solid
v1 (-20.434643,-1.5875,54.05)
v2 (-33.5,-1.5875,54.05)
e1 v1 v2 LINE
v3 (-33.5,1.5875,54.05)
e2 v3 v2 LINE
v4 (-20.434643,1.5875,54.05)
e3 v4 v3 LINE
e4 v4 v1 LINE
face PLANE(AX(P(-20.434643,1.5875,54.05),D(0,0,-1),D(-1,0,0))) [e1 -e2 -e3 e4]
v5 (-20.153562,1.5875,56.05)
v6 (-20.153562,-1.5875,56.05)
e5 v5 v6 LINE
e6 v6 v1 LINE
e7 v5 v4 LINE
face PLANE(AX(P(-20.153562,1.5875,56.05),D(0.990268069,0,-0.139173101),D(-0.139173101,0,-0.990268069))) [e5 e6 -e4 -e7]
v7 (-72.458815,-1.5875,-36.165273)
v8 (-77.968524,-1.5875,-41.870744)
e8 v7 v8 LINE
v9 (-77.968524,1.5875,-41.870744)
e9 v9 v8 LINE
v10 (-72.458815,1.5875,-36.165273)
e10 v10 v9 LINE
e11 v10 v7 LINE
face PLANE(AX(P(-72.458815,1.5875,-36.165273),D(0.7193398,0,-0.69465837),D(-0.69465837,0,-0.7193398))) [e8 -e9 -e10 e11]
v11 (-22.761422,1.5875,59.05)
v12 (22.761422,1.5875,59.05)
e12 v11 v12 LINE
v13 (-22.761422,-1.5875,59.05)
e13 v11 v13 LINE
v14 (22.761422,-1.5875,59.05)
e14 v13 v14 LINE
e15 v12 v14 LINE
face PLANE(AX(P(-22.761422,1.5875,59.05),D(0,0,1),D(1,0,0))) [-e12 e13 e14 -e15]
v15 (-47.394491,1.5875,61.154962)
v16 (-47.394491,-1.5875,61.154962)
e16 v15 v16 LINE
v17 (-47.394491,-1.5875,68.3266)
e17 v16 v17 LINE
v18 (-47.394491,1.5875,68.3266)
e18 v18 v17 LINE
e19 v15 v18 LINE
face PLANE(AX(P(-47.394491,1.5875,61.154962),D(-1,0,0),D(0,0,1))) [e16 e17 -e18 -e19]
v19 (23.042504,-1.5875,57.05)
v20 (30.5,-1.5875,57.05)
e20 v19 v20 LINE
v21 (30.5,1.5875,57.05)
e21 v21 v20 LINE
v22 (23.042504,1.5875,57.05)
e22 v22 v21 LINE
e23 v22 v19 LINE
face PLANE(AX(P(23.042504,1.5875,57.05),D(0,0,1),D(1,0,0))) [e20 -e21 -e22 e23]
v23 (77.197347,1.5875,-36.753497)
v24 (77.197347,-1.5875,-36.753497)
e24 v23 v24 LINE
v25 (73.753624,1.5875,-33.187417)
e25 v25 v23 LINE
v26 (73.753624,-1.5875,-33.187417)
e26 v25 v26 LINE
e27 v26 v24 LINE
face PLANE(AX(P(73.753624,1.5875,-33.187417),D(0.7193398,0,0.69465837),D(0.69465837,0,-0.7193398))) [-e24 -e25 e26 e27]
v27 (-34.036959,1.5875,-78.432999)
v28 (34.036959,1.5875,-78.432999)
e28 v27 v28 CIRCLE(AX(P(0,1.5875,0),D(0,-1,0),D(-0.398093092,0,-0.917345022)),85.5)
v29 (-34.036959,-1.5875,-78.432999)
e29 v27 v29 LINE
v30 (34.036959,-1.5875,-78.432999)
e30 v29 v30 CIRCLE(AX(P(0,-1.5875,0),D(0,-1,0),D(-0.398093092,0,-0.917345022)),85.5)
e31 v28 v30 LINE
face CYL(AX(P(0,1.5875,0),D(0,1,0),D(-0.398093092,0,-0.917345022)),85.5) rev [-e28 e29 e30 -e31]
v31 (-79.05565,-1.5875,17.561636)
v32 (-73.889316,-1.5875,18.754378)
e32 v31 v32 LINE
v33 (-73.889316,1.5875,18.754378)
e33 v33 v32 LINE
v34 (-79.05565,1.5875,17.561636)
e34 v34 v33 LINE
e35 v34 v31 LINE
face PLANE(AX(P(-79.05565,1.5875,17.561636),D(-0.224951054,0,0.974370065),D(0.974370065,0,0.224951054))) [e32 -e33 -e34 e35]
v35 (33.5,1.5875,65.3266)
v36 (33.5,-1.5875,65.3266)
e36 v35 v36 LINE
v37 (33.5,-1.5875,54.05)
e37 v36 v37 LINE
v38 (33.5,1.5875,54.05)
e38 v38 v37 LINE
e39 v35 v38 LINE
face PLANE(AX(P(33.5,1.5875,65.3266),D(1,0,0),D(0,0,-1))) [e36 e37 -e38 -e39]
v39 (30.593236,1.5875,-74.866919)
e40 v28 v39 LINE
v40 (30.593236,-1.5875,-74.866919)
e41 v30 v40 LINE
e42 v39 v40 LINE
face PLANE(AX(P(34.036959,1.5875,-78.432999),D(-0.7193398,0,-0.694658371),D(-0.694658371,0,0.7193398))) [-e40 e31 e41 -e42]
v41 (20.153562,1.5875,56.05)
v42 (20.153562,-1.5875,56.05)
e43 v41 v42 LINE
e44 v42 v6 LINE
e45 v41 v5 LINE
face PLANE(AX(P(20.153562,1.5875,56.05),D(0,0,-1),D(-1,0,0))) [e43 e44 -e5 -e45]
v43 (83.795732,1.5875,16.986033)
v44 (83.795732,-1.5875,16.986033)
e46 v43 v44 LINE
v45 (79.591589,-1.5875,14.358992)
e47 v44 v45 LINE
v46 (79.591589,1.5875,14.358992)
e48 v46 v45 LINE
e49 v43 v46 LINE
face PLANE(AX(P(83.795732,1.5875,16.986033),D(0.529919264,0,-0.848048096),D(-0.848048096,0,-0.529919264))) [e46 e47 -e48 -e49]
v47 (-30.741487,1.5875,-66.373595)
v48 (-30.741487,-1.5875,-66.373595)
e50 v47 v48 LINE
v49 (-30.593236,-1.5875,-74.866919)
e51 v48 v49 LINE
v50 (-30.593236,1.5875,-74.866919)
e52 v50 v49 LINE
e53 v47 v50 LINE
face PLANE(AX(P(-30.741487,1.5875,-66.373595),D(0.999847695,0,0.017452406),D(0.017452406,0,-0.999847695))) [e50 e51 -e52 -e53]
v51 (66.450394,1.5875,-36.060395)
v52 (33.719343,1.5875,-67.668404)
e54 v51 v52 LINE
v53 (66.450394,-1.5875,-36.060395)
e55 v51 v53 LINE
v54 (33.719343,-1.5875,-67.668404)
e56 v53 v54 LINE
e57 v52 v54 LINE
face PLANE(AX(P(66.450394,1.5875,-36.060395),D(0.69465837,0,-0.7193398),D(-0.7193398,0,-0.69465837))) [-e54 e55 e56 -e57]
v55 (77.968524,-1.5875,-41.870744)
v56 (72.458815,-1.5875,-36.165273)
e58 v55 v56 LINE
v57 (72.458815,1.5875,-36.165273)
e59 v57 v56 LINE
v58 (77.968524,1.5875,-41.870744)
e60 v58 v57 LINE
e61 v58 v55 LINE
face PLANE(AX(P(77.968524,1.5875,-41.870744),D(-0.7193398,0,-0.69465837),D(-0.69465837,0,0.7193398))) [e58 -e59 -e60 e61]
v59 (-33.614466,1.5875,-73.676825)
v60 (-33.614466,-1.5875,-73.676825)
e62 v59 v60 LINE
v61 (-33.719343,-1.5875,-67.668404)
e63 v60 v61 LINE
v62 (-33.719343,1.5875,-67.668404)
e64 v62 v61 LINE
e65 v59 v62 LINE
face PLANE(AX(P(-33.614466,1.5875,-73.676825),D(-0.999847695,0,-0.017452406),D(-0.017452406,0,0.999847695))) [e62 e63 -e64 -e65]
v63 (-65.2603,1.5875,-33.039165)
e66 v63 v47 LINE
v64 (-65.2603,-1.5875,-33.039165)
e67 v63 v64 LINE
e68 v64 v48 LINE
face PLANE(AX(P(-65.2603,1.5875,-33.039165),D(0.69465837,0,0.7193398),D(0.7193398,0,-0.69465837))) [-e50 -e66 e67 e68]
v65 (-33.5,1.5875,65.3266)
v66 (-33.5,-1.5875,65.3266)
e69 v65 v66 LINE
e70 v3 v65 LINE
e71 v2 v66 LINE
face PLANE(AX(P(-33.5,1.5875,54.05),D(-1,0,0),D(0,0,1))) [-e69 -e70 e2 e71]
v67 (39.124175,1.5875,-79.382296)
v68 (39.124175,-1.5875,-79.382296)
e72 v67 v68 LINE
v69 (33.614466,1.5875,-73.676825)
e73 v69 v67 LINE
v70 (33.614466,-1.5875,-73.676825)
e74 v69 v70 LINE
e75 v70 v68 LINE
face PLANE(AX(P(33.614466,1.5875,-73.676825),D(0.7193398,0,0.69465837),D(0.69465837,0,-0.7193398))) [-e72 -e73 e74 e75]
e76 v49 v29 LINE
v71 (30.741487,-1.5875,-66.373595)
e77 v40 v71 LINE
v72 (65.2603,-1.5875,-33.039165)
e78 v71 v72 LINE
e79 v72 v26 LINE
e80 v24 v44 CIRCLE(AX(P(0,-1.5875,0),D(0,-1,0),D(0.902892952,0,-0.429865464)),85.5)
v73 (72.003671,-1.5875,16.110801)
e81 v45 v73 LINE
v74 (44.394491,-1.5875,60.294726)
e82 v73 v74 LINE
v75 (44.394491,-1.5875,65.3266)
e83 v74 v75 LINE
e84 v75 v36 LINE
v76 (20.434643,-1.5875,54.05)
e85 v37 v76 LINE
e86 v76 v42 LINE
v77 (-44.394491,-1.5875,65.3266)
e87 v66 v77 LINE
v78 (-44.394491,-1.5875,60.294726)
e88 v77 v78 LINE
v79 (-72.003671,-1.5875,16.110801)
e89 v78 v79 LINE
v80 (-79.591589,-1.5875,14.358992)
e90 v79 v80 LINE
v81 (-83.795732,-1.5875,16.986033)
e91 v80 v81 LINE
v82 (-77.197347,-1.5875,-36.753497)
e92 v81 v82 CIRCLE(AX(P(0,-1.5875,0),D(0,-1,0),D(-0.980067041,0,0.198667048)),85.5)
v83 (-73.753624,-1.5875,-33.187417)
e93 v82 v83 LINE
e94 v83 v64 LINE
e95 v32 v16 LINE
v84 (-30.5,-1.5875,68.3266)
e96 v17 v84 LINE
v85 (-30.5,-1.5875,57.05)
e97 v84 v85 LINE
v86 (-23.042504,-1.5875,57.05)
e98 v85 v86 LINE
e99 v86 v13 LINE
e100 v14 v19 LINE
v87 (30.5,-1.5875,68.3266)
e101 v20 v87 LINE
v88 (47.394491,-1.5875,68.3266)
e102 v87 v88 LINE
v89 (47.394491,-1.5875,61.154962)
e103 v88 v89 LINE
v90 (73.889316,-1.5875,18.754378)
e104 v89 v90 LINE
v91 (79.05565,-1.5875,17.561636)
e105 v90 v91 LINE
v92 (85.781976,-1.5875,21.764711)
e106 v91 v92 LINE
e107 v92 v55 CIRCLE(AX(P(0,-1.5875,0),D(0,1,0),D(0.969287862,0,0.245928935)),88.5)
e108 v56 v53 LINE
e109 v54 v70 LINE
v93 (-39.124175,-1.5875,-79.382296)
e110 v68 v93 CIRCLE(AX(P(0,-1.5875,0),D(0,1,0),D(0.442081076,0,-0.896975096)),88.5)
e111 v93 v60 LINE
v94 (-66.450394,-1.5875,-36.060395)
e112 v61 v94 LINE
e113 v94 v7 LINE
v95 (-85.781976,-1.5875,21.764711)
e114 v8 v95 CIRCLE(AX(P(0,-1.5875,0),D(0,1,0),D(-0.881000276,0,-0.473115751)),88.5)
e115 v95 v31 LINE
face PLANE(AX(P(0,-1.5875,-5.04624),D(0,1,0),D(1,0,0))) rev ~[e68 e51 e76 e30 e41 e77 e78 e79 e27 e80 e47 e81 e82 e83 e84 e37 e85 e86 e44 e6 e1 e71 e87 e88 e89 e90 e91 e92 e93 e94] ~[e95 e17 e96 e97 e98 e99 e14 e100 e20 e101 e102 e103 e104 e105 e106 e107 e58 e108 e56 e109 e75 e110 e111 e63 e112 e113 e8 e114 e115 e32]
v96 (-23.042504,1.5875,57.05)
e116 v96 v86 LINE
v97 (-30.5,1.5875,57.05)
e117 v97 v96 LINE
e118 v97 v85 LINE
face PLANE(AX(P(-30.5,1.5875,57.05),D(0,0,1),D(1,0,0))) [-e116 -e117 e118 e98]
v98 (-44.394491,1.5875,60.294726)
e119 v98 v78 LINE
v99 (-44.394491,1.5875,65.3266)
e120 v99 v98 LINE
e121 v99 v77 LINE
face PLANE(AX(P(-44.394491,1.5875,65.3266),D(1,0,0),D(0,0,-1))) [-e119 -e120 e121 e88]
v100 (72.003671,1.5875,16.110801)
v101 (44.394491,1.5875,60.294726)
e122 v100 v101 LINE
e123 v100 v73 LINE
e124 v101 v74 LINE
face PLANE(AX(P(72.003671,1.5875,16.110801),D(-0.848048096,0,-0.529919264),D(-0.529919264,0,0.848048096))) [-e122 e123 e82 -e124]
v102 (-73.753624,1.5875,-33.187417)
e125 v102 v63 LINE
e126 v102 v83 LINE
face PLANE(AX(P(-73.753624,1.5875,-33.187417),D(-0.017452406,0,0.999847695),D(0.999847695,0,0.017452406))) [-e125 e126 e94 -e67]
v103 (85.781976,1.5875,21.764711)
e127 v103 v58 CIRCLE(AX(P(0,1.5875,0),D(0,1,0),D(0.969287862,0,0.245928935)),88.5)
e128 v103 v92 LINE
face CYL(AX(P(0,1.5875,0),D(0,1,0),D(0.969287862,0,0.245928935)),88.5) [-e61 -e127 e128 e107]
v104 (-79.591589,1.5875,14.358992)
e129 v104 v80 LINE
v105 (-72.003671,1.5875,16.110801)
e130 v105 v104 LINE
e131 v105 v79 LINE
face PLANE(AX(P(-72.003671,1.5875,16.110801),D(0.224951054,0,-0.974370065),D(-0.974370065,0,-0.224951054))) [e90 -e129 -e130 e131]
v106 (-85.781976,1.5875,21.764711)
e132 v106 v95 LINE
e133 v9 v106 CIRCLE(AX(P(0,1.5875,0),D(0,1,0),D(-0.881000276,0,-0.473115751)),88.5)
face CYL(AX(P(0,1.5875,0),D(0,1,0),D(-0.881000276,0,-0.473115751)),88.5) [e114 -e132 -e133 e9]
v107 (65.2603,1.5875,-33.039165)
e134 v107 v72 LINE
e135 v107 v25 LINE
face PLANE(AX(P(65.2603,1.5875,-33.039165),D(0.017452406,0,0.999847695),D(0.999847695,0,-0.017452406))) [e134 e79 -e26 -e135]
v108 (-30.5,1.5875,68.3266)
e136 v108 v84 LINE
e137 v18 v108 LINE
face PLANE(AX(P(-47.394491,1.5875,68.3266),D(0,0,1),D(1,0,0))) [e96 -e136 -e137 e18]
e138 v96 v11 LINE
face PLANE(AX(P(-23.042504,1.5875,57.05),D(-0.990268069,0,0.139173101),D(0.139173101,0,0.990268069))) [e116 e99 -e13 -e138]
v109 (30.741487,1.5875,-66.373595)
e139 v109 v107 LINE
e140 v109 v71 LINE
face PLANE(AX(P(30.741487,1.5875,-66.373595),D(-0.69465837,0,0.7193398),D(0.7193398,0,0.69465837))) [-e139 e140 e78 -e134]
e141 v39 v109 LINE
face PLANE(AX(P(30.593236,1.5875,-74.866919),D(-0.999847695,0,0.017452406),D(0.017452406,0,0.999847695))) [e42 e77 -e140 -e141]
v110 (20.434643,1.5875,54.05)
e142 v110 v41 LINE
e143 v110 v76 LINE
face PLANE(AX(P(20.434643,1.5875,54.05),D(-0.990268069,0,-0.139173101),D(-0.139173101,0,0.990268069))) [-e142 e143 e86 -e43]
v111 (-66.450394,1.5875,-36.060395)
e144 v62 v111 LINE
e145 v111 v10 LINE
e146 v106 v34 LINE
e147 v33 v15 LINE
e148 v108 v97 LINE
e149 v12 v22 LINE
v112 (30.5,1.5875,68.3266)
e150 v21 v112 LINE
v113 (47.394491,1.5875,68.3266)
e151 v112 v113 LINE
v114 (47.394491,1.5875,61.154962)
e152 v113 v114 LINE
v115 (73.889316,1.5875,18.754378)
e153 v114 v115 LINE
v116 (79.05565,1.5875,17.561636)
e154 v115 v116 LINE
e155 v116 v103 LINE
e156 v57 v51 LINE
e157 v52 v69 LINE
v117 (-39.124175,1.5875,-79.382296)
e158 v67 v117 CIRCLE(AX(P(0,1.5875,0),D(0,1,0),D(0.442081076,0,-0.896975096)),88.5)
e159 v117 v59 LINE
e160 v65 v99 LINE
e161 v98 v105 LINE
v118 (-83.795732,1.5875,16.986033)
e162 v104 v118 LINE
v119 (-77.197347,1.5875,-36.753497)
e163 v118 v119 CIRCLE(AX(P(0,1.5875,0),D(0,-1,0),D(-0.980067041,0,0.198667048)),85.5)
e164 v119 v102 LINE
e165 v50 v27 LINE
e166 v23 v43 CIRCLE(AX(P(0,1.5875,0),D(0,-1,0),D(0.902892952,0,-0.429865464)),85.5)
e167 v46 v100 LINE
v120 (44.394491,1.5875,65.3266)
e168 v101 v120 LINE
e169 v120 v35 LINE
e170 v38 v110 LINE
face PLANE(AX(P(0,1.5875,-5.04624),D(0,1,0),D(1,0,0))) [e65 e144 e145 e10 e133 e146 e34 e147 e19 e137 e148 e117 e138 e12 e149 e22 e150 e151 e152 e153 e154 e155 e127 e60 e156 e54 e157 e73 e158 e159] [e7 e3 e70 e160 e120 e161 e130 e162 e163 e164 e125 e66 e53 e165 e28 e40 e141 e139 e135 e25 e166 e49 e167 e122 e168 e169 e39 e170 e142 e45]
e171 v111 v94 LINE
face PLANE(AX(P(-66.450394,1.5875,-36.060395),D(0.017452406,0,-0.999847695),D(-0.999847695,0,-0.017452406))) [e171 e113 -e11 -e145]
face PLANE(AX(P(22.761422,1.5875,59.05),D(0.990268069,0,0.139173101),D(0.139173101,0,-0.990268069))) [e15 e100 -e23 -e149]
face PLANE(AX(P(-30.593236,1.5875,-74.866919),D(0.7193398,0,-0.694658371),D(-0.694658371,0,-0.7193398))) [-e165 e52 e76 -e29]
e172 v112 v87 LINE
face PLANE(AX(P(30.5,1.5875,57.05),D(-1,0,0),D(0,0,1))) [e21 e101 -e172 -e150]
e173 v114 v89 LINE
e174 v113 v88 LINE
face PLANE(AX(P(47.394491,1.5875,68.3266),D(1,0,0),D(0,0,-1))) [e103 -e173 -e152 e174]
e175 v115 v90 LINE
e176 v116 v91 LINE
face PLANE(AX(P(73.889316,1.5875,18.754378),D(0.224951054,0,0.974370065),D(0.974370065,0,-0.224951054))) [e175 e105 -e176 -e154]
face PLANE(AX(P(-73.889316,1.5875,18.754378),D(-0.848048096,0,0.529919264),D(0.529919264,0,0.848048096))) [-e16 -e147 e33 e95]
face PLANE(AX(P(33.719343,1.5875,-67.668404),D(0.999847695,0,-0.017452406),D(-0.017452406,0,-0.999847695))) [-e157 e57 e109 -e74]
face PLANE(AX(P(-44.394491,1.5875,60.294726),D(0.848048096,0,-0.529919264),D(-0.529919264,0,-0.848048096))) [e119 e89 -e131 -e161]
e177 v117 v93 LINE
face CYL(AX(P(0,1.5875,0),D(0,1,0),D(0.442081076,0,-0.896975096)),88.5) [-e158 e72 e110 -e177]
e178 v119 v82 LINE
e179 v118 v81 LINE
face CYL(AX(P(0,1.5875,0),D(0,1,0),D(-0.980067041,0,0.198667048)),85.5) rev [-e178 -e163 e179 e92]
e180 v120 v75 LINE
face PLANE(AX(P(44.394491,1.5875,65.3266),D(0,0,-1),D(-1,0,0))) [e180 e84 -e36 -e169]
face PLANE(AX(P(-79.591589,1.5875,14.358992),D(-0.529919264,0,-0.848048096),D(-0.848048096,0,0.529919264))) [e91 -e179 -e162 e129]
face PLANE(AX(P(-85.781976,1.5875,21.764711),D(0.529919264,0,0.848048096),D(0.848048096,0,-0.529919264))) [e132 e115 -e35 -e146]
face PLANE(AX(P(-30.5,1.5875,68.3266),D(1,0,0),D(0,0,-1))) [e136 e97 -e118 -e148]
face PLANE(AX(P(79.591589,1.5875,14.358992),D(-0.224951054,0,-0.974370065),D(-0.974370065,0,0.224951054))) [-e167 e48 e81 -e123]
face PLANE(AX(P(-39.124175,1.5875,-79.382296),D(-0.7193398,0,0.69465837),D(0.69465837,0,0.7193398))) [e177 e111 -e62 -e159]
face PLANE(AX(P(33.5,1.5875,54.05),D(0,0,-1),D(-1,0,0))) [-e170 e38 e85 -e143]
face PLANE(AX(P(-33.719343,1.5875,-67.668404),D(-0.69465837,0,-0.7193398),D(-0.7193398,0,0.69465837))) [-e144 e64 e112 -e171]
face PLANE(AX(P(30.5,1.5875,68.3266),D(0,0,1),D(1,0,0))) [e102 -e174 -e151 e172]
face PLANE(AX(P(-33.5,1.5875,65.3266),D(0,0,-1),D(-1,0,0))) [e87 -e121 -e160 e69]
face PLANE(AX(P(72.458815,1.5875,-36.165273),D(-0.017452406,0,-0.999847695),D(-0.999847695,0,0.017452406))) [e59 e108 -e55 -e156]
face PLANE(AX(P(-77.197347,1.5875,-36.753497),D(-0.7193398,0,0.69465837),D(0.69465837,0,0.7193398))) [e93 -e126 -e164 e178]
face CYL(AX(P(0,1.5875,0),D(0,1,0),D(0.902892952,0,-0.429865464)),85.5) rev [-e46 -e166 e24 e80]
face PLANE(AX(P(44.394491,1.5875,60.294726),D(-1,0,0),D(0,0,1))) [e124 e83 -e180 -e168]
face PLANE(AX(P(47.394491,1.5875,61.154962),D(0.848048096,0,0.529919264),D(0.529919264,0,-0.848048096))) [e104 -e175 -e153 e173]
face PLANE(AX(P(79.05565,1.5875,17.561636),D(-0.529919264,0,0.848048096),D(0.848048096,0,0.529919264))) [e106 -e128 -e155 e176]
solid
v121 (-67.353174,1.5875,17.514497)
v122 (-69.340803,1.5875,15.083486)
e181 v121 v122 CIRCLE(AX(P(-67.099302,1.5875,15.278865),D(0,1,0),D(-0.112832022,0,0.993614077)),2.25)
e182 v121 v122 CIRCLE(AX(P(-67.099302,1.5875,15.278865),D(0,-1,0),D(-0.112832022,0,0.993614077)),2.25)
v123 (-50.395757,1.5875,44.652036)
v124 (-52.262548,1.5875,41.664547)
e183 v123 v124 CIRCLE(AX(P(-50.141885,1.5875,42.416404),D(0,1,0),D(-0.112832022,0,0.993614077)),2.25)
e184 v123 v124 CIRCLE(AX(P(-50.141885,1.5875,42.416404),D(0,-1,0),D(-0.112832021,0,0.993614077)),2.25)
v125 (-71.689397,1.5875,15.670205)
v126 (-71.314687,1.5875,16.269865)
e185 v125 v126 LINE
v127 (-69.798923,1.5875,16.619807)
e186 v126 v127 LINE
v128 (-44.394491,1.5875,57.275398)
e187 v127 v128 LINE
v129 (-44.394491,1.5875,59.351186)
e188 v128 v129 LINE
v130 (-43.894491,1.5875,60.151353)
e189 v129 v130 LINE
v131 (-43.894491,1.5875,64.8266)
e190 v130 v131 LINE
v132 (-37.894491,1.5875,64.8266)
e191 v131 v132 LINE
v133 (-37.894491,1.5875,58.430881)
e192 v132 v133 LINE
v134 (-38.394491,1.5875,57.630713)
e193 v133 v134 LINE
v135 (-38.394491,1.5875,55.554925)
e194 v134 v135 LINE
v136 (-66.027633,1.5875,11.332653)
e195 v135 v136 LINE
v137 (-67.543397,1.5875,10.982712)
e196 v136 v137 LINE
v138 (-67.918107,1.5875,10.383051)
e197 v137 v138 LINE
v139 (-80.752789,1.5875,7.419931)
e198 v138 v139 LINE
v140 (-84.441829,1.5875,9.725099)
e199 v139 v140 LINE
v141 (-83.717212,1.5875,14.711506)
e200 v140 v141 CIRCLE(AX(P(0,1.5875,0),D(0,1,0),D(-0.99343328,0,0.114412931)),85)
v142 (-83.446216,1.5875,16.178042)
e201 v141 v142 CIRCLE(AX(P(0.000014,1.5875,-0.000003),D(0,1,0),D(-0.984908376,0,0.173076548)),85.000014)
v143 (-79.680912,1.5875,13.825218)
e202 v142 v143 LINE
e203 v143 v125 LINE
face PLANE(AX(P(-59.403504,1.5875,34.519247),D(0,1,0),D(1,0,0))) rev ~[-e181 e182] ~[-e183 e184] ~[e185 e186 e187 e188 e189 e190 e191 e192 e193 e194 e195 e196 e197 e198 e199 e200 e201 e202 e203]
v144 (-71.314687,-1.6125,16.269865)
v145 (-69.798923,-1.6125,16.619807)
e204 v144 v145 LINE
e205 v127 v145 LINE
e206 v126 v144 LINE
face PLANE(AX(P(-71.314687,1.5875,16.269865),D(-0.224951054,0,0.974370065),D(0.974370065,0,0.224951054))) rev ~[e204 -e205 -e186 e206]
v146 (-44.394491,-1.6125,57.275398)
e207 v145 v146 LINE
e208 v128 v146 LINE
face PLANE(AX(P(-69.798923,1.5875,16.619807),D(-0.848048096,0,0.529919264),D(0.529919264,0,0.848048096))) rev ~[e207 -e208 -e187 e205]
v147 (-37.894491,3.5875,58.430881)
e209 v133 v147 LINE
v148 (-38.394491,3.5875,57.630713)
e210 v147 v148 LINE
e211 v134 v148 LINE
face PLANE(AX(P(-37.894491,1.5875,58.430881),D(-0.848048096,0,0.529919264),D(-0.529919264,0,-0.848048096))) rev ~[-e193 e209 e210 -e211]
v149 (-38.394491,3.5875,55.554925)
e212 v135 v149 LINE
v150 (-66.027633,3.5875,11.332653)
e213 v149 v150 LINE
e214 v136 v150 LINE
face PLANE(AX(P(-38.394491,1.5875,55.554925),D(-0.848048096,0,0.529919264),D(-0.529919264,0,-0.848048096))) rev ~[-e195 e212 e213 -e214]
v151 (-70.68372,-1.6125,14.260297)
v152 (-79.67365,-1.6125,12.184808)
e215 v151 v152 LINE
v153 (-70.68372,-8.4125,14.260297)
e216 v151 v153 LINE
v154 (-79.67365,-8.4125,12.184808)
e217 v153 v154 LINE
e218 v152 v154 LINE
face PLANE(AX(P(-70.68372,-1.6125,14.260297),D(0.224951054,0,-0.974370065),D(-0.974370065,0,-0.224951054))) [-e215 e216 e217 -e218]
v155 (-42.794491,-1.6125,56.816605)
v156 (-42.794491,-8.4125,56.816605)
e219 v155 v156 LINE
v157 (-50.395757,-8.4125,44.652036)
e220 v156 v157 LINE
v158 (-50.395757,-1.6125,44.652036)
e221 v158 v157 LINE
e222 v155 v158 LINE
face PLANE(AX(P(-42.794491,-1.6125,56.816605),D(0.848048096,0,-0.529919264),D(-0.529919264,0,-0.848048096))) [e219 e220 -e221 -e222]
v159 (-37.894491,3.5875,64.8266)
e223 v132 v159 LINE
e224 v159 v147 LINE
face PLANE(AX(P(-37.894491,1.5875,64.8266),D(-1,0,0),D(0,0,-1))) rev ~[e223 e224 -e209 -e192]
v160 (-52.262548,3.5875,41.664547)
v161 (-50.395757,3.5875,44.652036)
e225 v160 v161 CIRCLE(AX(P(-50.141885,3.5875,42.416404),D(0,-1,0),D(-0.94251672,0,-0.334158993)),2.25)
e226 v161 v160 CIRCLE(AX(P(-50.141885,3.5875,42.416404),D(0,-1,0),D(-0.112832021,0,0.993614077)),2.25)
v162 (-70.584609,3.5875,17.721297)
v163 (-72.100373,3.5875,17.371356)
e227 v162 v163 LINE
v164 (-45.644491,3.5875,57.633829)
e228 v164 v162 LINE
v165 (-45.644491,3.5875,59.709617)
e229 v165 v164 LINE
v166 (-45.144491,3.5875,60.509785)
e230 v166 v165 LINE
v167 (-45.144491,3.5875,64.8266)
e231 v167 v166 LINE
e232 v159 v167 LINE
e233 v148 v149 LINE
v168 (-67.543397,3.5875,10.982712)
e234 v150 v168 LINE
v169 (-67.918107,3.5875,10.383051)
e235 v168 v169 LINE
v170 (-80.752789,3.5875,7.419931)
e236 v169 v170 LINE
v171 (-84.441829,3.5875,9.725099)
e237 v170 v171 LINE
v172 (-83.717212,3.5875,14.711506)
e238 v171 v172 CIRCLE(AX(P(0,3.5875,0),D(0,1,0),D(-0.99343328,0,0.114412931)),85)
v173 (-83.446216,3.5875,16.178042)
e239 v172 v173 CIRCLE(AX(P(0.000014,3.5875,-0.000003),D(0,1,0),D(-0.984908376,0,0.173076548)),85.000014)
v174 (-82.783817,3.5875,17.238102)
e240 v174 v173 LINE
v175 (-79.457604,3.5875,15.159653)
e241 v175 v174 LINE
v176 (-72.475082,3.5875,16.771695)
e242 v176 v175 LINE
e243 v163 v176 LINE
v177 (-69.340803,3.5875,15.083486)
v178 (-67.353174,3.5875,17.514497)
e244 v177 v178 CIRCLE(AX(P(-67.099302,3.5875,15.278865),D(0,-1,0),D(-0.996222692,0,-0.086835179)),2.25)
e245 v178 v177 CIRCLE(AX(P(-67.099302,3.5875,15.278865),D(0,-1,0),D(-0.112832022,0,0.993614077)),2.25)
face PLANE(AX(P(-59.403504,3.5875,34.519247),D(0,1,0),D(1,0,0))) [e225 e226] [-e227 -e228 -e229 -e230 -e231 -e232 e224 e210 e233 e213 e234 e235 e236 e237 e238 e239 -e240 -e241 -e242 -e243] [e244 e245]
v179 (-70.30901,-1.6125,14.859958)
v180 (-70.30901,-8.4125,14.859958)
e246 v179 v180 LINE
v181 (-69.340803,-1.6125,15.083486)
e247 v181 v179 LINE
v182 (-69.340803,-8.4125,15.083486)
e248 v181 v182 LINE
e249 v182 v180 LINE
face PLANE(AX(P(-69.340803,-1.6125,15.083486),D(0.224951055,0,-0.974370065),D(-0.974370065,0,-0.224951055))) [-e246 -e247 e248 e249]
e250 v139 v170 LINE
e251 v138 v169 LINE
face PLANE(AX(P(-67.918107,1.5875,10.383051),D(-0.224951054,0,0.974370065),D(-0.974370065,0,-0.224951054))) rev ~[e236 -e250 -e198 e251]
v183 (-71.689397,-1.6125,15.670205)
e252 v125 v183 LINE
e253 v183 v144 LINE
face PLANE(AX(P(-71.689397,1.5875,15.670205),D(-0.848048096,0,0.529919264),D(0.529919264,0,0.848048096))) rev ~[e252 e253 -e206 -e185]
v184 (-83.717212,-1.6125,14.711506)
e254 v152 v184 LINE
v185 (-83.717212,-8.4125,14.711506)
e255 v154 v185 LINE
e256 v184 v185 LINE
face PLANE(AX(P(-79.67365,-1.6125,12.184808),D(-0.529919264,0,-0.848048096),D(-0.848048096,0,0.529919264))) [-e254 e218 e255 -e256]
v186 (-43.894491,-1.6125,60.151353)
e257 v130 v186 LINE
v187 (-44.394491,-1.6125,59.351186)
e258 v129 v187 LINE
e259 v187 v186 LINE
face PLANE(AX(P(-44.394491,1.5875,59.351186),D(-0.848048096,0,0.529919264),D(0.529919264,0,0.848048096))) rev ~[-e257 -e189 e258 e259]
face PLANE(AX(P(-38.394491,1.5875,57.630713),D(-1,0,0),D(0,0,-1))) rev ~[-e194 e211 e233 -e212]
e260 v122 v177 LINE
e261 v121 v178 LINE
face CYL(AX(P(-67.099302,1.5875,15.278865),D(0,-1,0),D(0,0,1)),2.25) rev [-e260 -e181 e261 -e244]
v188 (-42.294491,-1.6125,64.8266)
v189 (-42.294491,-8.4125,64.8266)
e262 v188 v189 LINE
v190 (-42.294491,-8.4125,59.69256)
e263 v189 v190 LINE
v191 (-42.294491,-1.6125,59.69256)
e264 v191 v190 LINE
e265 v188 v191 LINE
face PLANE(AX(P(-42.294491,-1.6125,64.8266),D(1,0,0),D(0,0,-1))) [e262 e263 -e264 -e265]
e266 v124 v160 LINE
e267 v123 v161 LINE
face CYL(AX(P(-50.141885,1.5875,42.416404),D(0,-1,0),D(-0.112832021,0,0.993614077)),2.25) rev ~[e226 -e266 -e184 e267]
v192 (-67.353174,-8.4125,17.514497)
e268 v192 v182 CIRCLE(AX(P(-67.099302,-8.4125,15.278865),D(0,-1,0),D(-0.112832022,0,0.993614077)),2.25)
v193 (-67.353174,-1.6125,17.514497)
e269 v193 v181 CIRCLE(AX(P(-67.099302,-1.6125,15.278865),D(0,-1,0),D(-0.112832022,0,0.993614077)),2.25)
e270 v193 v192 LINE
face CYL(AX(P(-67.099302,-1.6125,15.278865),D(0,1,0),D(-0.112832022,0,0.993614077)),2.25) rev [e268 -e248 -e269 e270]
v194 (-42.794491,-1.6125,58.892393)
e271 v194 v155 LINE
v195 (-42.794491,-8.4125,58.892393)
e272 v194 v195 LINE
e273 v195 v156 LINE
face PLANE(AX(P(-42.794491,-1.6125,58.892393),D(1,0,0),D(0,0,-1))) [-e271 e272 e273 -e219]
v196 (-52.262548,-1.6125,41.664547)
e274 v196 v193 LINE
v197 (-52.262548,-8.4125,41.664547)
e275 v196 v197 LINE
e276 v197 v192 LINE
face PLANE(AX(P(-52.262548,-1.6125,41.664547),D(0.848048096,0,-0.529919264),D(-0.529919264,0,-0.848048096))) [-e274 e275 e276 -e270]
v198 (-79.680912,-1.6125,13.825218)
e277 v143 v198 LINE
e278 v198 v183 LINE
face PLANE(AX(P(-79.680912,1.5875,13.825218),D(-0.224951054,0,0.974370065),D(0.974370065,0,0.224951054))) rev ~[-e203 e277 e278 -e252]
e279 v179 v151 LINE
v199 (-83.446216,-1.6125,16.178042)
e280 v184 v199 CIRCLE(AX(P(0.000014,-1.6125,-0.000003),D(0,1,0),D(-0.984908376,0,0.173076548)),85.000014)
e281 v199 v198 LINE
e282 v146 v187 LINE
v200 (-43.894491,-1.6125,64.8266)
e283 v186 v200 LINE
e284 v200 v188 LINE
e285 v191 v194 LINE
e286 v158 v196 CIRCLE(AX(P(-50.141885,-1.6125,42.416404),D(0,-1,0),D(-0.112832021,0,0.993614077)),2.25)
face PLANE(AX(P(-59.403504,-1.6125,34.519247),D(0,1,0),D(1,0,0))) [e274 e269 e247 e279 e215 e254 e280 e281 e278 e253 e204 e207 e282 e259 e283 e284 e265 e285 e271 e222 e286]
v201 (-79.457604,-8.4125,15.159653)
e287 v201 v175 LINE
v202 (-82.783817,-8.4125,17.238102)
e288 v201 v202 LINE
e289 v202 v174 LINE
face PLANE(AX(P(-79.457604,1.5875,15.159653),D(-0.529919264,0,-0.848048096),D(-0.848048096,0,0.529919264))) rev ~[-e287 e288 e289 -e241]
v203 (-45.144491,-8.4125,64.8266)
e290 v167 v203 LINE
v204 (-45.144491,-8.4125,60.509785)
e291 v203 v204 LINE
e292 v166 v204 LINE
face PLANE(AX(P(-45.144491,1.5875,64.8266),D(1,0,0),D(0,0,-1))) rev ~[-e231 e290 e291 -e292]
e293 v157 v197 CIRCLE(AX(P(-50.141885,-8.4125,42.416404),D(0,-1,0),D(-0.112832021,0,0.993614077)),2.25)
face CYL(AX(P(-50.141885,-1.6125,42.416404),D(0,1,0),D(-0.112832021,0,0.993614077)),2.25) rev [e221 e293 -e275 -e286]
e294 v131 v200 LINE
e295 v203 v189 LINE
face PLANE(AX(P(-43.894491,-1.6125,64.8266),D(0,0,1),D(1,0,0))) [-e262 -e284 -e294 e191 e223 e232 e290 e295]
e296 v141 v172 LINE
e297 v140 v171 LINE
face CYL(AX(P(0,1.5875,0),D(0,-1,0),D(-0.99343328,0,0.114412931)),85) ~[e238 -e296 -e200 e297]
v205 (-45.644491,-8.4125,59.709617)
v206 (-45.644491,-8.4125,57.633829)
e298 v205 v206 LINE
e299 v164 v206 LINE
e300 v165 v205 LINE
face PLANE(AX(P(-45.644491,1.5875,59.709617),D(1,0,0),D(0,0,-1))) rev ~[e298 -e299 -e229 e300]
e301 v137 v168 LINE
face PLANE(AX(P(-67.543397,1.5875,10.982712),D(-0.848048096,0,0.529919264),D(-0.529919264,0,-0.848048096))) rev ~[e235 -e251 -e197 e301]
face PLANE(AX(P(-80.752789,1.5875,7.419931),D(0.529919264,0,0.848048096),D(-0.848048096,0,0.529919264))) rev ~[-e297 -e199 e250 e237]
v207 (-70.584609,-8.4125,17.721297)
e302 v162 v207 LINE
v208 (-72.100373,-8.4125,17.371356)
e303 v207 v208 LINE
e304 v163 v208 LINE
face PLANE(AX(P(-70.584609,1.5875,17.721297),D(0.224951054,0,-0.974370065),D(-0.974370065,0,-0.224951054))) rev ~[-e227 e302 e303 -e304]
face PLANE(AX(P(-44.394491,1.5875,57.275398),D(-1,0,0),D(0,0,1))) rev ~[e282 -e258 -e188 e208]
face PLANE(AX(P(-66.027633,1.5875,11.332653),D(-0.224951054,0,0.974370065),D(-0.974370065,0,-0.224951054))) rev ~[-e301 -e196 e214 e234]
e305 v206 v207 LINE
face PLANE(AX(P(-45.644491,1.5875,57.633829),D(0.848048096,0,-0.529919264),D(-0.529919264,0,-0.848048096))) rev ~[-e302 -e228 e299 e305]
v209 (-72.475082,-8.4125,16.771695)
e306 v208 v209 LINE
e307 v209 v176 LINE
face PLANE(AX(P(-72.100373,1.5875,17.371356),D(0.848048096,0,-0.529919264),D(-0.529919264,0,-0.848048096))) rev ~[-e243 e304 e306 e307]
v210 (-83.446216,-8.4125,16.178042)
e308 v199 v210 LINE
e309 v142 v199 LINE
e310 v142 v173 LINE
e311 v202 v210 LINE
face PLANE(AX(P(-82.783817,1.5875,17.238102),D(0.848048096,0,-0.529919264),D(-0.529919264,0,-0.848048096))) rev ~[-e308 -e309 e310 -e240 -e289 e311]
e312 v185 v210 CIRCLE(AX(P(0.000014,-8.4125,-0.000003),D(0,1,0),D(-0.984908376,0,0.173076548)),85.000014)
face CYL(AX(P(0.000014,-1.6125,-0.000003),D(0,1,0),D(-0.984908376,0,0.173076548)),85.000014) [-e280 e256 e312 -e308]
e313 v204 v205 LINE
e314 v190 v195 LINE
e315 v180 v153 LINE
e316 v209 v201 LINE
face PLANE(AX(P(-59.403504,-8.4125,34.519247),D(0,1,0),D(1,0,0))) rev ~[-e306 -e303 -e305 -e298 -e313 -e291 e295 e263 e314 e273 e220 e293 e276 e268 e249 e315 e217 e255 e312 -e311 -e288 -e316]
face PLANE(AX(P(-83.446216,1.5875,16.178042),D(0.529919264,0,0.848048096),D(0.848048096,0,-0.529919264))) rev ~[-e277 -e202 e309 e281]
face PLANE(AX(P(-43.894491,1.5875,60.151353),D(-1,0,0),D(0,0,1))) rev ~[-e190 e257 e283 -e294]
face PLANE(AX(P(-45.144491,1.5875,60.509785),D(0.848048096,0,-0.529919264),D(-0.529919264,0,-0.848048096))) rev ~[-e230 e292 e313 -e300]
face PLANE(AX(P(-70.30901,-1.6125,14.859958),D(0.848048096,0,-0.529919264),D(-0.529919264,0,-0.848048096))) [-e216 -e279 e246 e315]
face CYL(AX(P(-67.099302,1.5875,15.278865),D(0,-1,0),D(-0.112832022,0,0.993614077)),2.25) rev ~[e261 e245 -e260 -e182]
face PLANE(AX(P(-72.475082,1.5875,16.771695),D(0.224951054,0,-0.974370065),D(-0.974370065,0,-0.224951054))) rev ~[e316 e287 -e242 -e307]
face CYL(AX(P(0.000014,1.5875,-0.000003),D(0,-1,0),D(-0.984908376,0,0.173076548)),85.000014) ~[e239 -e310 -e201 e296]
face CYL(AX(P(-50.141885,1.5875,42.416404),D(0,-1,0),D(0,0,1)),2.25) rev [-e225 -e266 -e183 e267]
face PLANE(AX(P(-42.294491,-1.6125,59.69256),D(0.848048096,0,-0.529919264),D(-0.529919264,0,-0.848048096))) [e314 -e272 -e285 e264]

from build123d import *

# Parameters (mm, degrees)
BOSS_EXTRUDE4_DEPTH  = 1.5875
M3_CLEARANCE_HOLE4_D = 2.95
BOSS_EXTRUDE6_DEPTH  = 3.175
BOSS_EXTRUDE7_DEPTH  = 3.175
SKETCH27_R           = 2.25
BOSS_EXTRUDE8_DEPTH  = 2
BOSS_EXTRUDE9_DEPTH  = 10
BOSS_EXTRUDE11_START = -3.2
BOSS_EXTRUDE11_DEPTH = 6.8


with BuildPart() as part:
    # Sketch1 → Boss-Extrude4 (new, symmetric)
    with BuildSketch(Plane(origin=(0, 0, 0), x_dir=(1, 0, 0), z_dir=(0, 1, 0))):
        with BuildLine():
            Line((-62.799553621, 32.496136604), (-73.969425011, 32.691107434))
            Line((-73.969425011, 32.691107434), (-77.053684287, 35.88495141))
            ThreePointArc((-77.053684287, 35.88495141), (-84.36642289, 10.358894189), (-83.446216027, -16.178041625))
            Line((-83.446216027, -16.178041625), (-79.680911643, -13.825218315))
            Line((-79.680911643, -13.825218315), (-69.484649137, -16.179210996))
            Line((-69.484649137, -16.179210996), (-43.894490772, -57.132025032))
            Line((-43.894490772, -57.132025032), (-43.894490772, -64.826600275))
            Line((-43.894490772, -64.826600275), (-43.094490772, -64.826600275))
            Line((-43.094490772, -64.826600275), (-34, -64.826600275))
            Line((-34, -64.826600275), (-34, -55.55))
            Line((-34, -55.55), (-34, -53.55))
            Line((-34, -53.55), (-20, -53.55))
            Line((-20, -53.55), (-19.718918331, -55.55))
            Line((-19.718918331, -55.55), (19.718918331, -55.55))
            Line((19.718918331, -55.55), (20, -53.55))
            Line((20, -53.55), (34, -53.55))
            Line((34, -53.55), (34, -55.55))
            Line((34, -55.55), (34, -64.826600275))
            Line((34, -64.826600275), (43.094490772, -64.826600275))
            Line((43.094490772, -64.826600275), (43.894490772, -64.826600275))
            Line((43.894490772, -64.826600275), (43.894490772, -57.132025032))
            Line((43.894490772, -57.132025032), (69.484649137, -16.179210996))
            Line((69.484649137, -16.179210996), (79.680911643, -13.825218315))
            Line((79.680911643, -13.825218315), (83.446216027, -16.178041625))
            ThreePointArc((83.446216027, -16.178041625), (84.610662337, -8.126242604), (85, 0))
            ThreePointArc((85, 0), (82.98964744, 18.377116688), (77.053684287, 35.88495141))
            Line((77.053684287, 35.88495141), (73.969425011, 32.691107434))
            Line((73.969425011, 32.691107434), (62.799553621, 32.496136604))
            Line((62.799553621, 32.496136604), (30.284668021, 63.895396642))
            Line((30.284668021, 63.895396642), (30.089697191, 75.065268032))
            Line((30.089697191, 75.065268032), (33.173956467, 78.259112008))
            ThreePointArc((33.173956467, 78.259112008), (0, 85), (-33.173956467, 78.259112008))
            Line((-33.173956467, 78.259112008), (-30.089697191, 75.065268032))
            Line((-30.089697191, 75.065268032), (-30.284668021, 63.895396642))
            Line((-30.284668021, 63.895396642), (-62.799553621, 32.496136604))
        make_face()
    extrude(amount=BOSS_EXTRUDE4_DEPTH, both=True)

    # M3 Clearance Hole4 (through all)
    with Locations(Plane(origin=(0, -1.5875, 0), x_dir=(-1, 0, 0), z_dir=(0, -1, 0))):
        with Locations((-67.099301622, -15.278865202), (-50.141885166, -42.416404279), (-61.062544382, 30.698137949), (-38.043670771, 52.927205804), (50.141885166, -42.416404279), (67.099301622, -15.278865202), (38.043670771, 52.927205804), (61.062544382, 30.698137949)):
            Hole(M3_CLEARANCE_HOLE4_D / 2)

    # Sketch22 → Boss-Extrude6 (add)
    with BuildSketch(Plane(origin=(0, 1.5875, 0), x_dir=(1, 0, 0), z_dir=(0, 1, 0))):
        Polygon((-30.780977357, 64.111198083), (-62.997902655, 32.999674963), (-64.553300643, 33.026824536), (-65.061950694, 32.535626892), (-62.799553621, 32.496136604), (-30.284668021, 63.895396642), (-30.245177733, 66.157793715), (-30.753827784, 65.66659607), align=None)
        Polygon((-69.484649137, -16.179210996), (-71.689396914, -15.670204865), (-71.314687409, -16.269865425), (-69.798923312, -16.61980714), (-44.394490772, -57.275397724), (-44.394490772, -59.351185631), (-43.894490772, -60.151352895), (-43.894490772, -57.132025032), align=None)
        Polygon((30.753827784, 65.66659607), (30.245177733, 66.157793715), (30.284668021, 63.895396642), (62.799553621, 32.496136604), (65.061950694, 32.535626892), (64.553300643, 33.026824536), (62.997902655, 32.999674963), (30.780977357, 64.111198083), align=None)
        Polygon((69.798923312, -16.61980714), (71.314687409, -16.269865425), (71.689396914, -15.670204865), (69.484649137, -16.179210996), (43.894490772, -57.132025032), (43.894490772, -60.151352895), (44.394490772, -59.351185631), (44.394490772, -57.275397724), align=None)
    extrude(amount=-BOSS_EXTRUDE6_DEPTH)


with BuildPart() as body_2:
    # Sketch22<3> → Boss-Extrude7 (new body)
    with BuildSketch(Plane(origin=(0, 1.5875, 0), x_dir=(1, 0, 0), z_dir=(0, 1, 0))):
        with BuildLine():
            ThreePointArc((-77.96852441, 41.870743978), (-87.84033442, 10.785436891), (-85.781975773, -21.764710716))
            Line((-85.781975773, -21.764710716), (-79.055649799, -17.561635764))
            Line((-79.055649799, -17.561635764), (-73.889316139, -18.754377871))
            Line((-73.889316139, -18.754377871), (-47.394490772, -61.154961745))
            Line((-47.394490772, -61.154961745), (-47.394490772, -68.326600275))
            Line((-47.394490772, -68.326600275), (-30.5, -68.326600275))
            Line((-30.5, -68.326600275), (-30.5, -57.05))
            Line((-30.5, -57.05), (-23.042503582, -57.05))
            Line((-23.042503582, -57.05), (-22.761421913, -59.05))
            Line((-22.761421913, -59.05), (22.761421913, -59.05))
            Line((22.761421913, -59.05), (23.042503582, -57.05))
            Line((23.042503582, -57.05), (30.5, -57.05))
            Line((30.5, -57.05), (30.5, -68.326600275))
            Line((30.5, -68.326600275), (47.394490772, -68.326600275))
            Line((47.394490772, -68.326600275), (47.394490772, -61.154961745))
            Line((47.394490772, -61.154961745), (73.889316139, -18.754377871))
            Line((73.889316139, -18.754377871), (79.055649799, -17.561635764))
            Line((79.055649799, -17.561635764), (85.781975773, -21.764710716))
            ThreePointArc((85.781975773, -21.764710716), (87.84033442, 10.785436891), (77.96852441, 41.870743978))
            Line((77.96852441, 41.870743978), (72.458814924, 36.165272785))
            Line((72.458814924, 36.165272785), (66.450393936, 36.060395407))
            Line((66.450393936, 36.060395407), (33.719343084, 67.668403802))
            Line((33.719343084, 67.668403802), (33.614465706, 73.67682479))
            Line((33.614465706, 73.67682479), (39.124175192, 79.382295983))
            ThreePointArc((39.124175192, 79.382295983), (0, 88.5), (-39.124175192, 79.382295983))
            Line((-39.124175192, 79.382295983), (-33.614465706, 73.67682479))
            Line((-33.614465706, 73.67682479), (-33.719343084, 67.668403802))
            Line((-33.719343084, 67.668403802), (-66.450393936, 36.060395407))
            Line((-66.450393936, 36.060395407), (-72.458814924, 36.165272785))
            Line((-72.458814924, 36.165272785), (-77.96852441, 41.870743978))
        make_face()
        with BuildLine():
            Line((-73.75362357, 33.18741677), (-65.260299728, 33.039165251))
            Line((-65.260299728, 33.039165251), (-30.741487069, 66.373595156))
            Line((-30.741487069, 66.373595156), (-30.59323555, 74.866918998))
            Line((-30.59323555, 74.866918998), (-34.036959375, 78.43299941))
            ThreePointArc((-34.036959375, 78.43299941), (0, 85.5), (34.036959375, 78.43299941))
            Line((34.036959375, 78.43299941), (30.59323555, 74.866918998))
            Line((30.59323555, 74.866918998), (30.741487069, 66.373595156))
            Line((30.741487069, 66.373595156), (65.260299728, 33.039165251))
            Line((65.260299728, 33.039165251), (73.75362357, 33.18741677))
            Line((73.75362357, 33.18741677), (77.197347395, 36.753497183))
            ThreePointArc((77.197347395, 36.753497183), (84.862695965, 10.419828861), (83.795731966, -16.986032625))
            Line((83.795731966, -16.986032625), (79.591588523, -14.358992237))
            Line((79.591588523, -14.358992237), (72.003671089, -16.110801009))
            Line((72.003671089, -16.110801009), (44.394490772, -60.294725588))
            Line((44.394490772, -60.294725588), (44.394490772, -65.326600275))
            Line((44.394490772, -65.326600275), (33.5, -65.326600275))
            Line((33.5, -65.326600275), (33.5, -54.05))
            Line((33.5, -54.05), (20.434643369, -54.05))
            Line((20.434643369, -54.05), (20.1535617, -56.05))
            Line((20.1535617, -56.05), (-20.1535617, -56.05))
            Line((-20.1535617, -56.05), (-20.434643369, -54.05))
            Line((-20.434643369, -54.05), (-33.5, -54.05))
            Line((-33.5, -54.05), (-33.5, -65.326600275))
            Line((-33.5, -65.326600275), (-44.394490772, -65.326600275))
            Line((-44.394490772, -65.326600275), (-44.394490772, -60.294725588))
            Line((-44.394490772, -60.294725588), (-72.003671089, -16.110801009))
            Line((-72.003671089, -16.110801009), (-79.591588523, -14.358992237))
            Line((-79.591588523, -14.358992237), (-83.795731966, -16.986032625))
            ThreePointArc((-83.795731966, -16.986032625), (-84.862695965, 10.419828861), (-77.197347395, 36.753497183))
            Line((-77.197347395, 36.753497183), (-73.75362357, 33.18741677))
        make_face(mode=Mode.SUBTRACT)
    extrude(amount=-BOSS_EXTRUDE7_DEPTH)


with BuildPart() as body_3:
    # Sketch27 → Boss-Extrude8 (new body)
    # profile 1 of 3: a face of its own
    with BuildSketch(Plane(origin=(0, 1.5875, 0), x_dir=(1, 0, 0), z_dir=(0, 1, 0))):
        with BuildLine():
            Line((-80.752789091, -7.419931261), (-84.441828779, -9.7250991))
            ThreePointArc((-84.441828779, -9.7250991), (-84.006005821, -12.961133671), (-83.446216027, -16.178041625))
            Line((-83.446216027, -16.178041625), (-79.680911643, -13.825218315))
            Line((-79.680911643, -13.825218315), (-71.689396914, -15.670204865))
            Line((-71.689396914, -15.670204865), (-71.314687409, -16.269865425))
            Line((-71.314687409, -16.269865425), (-69.798923312, -16.61980714))
            Line((-69.798923312, -16.61980714), (-44.394490772, -57.275397724))
            Line((-44.394490772, -57.275397724), (-44.394490772, -59.351185631))
            Line((-44.394490772, -59.351185631), (-43.894490772, -60.151352895))
            Line((-43.894490772, -60.151352895), (-43.894490772, -64.826600275))
            Line((-43.894490772, -64.826600275), (-37.894490772, -64.826600275))
            Line((-37.894490772, -64.826600275), (-37.894490772, -58.430880581))
            Line((-37.894490772, -58.430880581), (-38.394490772, -57.630713316))
            Line((-38.394490772, -57.630713316), (-38.394490772, -55.55492541))
            Line((-38.394490772, -55.55492541), (-66.027633212, -11.332653417))
            Line((-66.027633212, -11.332653417), (-67.543397309, -10.982711702))
            Line((-67.543397309, -10.982711702), (-67.918106814, -10.383051142))
            Line((-67.918106814, -10.383051142), (-80.752789091, -7.419931261))
        make_face()
        with Locations(Location((-67.099301622, -15.278865202, 0), (0, 0, 270))):
            Circle(SKETCH27_R, mode=Mode.SUBTRACT)
        with Locations(Location((-50.141885166, -42.416404279, 0), (0, 0, 270))):
            Circle(SKETCH27_R, mode=Mode.SUBTRACT)
    # profile 2 of 3: a face of its own
    with BuildSketch(Plane(origin=(0, 1.5875, 0), x_dir=(1, 0, 0), z_dir=(0, 1, 0))):
        Polygon((-82.783816946, -17.238101746), (-83.446216027, -16.178041625), (-79.680911643, -13.825218315), (-71.689396914, -15.670204865), (-71.314687409, -16.269865425), (-69.798923312, -16.61980714), (-44.394490772, -57.275397724), (-44.394490772, -59.351185631), (-43.894490772, -60.151352895), (-43.894490772, -64.826600275), (-45.144490772, -64.826600275), (-45.144490772, -60.509784627), (-45.644490772, -59.709617363), (-45.644490772, -57.633829457), (-70.58460875, -17.721297499), (-72.100372846, -17.371355784), (-72.475082351, -16.771695224), (-79.457603842, -15.159653118), align=None)
    # profile 3 of 3: a face of its own
    with BuildSketch(Plane(origin=(0, 1.5875, 0), x_dir=(1, 0, 0), z_dir=(0, 1, 0))):
        with BuildLine():
            Line((-43.894490772, -60.151352895), (-43.894490772, -64.826600275))
            Line((-43.894490772, -64.826600275), (-42.294490772, -64.826600275))
            Line((-42.294490772, -64.826600275), (-42.294490772, -59.692560278))
            Line((-42.294490772, -59.692560278), (-42.794490772, -58.892393013))
            Line((-42.794490772, -58.892393013), (-42.794490772, -56.816605107))
            Line((-42.794490772, -56.816605107), (-50.395757216, -44.652035953))
            ThreePointArc((-50.395757216, -44.652035953), (-52.049993383, -43.608722624), (-52.262547786, -41.664546545))
            Line((-52.262547786, -41.664546545), (-67.353173671, -17.514496876))
            ThreePointArc((-67.353173671, -17.514496876), (-68.841190006, -16.703057905), (-69.340802678, -15.08348605))
            Line((-69.340802678, -15.08348605), (-70.309010049, -14.859957765))
            Line((-70.309010049, -14.859957765), (-70.683719554, -14.260297206))
            Line((-70.683719554, -14.260297206), (-79.673649637, -12.184808309))
            Line((-79.673649637, -12.184808309), (-83.717211954, -14.711506473))
            ThreePointArc((-83.717211954, -14.711506473), (-83.584930429, -15.445368404), (-83.446216027, -16.178041625))
            Line((-83.446216027, -16.178041625), (-79.680911643, -13.825218315))
            Line((-79.680911643, -13.825218315), (-71.689396914, -15.670204865))
            Line((-71.689396914, -15.670204865), (-71.314687409, -16.269865425))
            Line((-71.314687409, -16.269865425), (-69.798923312, -16.61980714))
            Line((-69.798923312, -16.61980714), (-44.394490772, -57.275397724))
            Line((-44.394490772, -57.275397724), (-44.394490772, -59.351185631))
            Line((-44.394490772, -59.351185631), (-43.894490772, -60.151352895))
        make_face()
    extrude(amount=BOSS_EXTRUDE8_DEPTH)

    # Sketch27<3> → Boss-Extrude9 (add)
    with BuildSketch(Plane(origin=(0, 1.5875, 0), x_dir=(1, 0, 0), z_dir=(0, 1, 0))):
        Polygon((-82.783816946, -17.238101746), (-83.446216027, -16.178041625), (-79.680911643, -13.825218315), (-71.689396914, -15.670204865), (-71.314687409, -16.269865425), (-69.798923312, -16.61980714), (-44.394490772, -57.275397724), (-44.394490772, -59.351185631), (-43.894490772, -60.151352895), (-43.894490772, -64.826600275), (-45.144490772, -64.826600275), (-45.144490772, -60.509784627), (-45.644490772, -59.709617363), (-45.644490772, -57.633829457), (-70.58460875, -17.721297499), (-72.100372846, -17.371355784), (-72.475082351, -16.771695224), (-79.457603842, -15.159653118), align=None)
    extrude(amount=-BOSS_EXTRUDE9_DEPTH)

    # Sketch27<7> → Boss-Extrude11 (add)
    with BuildSketch(Plane(origin=(0, 1.5875, 0), x_dir=(1, 0, 0), z_dir=(0, 1, 0)).offset(BOSS_EXTRUDE11_START)):
        with BuildLine():
            Line((-43.894490772, -60.151352895), (-43.894490772, -64.826600275))
            Line((-43.894490772, -64.826600275), (-42.294490772, -64.826600275))
            Line((-42.294490772, -64.826600275), (-42.294490772, -59.692560278))
            Line((-42.294490772, -59.692560278), (-42.794490772, -58.892393013))
            Line((-42.794490772, -58.892393013), (-42.794490772, -56.816605107))
            Line((-42.794490772, -56.816605107), (-50.395757216, -44.652035953))
            ThreePointArc((-50.395757216, -44.652035953), (-52.049993383, -43.608722624), (-52.262547786, -41.664546545))
            Line((-52.262547786, -41.664546545), (-67.353173671, -17.514496876))
            ThreePointArc((-67.353173671, -17.514496876), (-68.841190006, -16.703057905), (-69.340802678, -15.08348605))
            Line((-69.340802678, -15.08348605), (-70.309010049, -14.859957765))
            Line((-70.309010049, -14.859957765), (-70.683719554, -14.260297206))
            Line((-70.683719554, -14.260297206), (-79.673649637, -12.184808309))
            Line((-79.673649637, -12.184808309), (-83.717211954, -14.711506473))
            ThreePointArc((-83.717211954, -14.711506473), (-83.584930429, -15.445368404), (-83.446216027, -16.178041625))
            Line((-83.446216027, -16.178041625), (-79.680911643, -13.825218315))
            Line((-79.680911643, -13.825218315), (-71.689396914, -15.670204865))
            Line((-71.689396914, -15.670204865), (-71.314687409, -16.269865425))
            Line((-71.314687409, -16.269865425), (-69.798923312, -16.61980714))
            Line((-69.798923312, -16.61980714), (-44.394490772, -57.275397724))
            Line((-44.394490772, -57.275397724), (-44.394490772, -59.351185631))
            Line((-44.394490772, -59.351185631), (-43.894490772, -60.151352895))
        make_face()
    extrude(amount=-BOSS_EXTRUDE11_DEPTH)


solid = Compound([body_2.part, body_3.part])
